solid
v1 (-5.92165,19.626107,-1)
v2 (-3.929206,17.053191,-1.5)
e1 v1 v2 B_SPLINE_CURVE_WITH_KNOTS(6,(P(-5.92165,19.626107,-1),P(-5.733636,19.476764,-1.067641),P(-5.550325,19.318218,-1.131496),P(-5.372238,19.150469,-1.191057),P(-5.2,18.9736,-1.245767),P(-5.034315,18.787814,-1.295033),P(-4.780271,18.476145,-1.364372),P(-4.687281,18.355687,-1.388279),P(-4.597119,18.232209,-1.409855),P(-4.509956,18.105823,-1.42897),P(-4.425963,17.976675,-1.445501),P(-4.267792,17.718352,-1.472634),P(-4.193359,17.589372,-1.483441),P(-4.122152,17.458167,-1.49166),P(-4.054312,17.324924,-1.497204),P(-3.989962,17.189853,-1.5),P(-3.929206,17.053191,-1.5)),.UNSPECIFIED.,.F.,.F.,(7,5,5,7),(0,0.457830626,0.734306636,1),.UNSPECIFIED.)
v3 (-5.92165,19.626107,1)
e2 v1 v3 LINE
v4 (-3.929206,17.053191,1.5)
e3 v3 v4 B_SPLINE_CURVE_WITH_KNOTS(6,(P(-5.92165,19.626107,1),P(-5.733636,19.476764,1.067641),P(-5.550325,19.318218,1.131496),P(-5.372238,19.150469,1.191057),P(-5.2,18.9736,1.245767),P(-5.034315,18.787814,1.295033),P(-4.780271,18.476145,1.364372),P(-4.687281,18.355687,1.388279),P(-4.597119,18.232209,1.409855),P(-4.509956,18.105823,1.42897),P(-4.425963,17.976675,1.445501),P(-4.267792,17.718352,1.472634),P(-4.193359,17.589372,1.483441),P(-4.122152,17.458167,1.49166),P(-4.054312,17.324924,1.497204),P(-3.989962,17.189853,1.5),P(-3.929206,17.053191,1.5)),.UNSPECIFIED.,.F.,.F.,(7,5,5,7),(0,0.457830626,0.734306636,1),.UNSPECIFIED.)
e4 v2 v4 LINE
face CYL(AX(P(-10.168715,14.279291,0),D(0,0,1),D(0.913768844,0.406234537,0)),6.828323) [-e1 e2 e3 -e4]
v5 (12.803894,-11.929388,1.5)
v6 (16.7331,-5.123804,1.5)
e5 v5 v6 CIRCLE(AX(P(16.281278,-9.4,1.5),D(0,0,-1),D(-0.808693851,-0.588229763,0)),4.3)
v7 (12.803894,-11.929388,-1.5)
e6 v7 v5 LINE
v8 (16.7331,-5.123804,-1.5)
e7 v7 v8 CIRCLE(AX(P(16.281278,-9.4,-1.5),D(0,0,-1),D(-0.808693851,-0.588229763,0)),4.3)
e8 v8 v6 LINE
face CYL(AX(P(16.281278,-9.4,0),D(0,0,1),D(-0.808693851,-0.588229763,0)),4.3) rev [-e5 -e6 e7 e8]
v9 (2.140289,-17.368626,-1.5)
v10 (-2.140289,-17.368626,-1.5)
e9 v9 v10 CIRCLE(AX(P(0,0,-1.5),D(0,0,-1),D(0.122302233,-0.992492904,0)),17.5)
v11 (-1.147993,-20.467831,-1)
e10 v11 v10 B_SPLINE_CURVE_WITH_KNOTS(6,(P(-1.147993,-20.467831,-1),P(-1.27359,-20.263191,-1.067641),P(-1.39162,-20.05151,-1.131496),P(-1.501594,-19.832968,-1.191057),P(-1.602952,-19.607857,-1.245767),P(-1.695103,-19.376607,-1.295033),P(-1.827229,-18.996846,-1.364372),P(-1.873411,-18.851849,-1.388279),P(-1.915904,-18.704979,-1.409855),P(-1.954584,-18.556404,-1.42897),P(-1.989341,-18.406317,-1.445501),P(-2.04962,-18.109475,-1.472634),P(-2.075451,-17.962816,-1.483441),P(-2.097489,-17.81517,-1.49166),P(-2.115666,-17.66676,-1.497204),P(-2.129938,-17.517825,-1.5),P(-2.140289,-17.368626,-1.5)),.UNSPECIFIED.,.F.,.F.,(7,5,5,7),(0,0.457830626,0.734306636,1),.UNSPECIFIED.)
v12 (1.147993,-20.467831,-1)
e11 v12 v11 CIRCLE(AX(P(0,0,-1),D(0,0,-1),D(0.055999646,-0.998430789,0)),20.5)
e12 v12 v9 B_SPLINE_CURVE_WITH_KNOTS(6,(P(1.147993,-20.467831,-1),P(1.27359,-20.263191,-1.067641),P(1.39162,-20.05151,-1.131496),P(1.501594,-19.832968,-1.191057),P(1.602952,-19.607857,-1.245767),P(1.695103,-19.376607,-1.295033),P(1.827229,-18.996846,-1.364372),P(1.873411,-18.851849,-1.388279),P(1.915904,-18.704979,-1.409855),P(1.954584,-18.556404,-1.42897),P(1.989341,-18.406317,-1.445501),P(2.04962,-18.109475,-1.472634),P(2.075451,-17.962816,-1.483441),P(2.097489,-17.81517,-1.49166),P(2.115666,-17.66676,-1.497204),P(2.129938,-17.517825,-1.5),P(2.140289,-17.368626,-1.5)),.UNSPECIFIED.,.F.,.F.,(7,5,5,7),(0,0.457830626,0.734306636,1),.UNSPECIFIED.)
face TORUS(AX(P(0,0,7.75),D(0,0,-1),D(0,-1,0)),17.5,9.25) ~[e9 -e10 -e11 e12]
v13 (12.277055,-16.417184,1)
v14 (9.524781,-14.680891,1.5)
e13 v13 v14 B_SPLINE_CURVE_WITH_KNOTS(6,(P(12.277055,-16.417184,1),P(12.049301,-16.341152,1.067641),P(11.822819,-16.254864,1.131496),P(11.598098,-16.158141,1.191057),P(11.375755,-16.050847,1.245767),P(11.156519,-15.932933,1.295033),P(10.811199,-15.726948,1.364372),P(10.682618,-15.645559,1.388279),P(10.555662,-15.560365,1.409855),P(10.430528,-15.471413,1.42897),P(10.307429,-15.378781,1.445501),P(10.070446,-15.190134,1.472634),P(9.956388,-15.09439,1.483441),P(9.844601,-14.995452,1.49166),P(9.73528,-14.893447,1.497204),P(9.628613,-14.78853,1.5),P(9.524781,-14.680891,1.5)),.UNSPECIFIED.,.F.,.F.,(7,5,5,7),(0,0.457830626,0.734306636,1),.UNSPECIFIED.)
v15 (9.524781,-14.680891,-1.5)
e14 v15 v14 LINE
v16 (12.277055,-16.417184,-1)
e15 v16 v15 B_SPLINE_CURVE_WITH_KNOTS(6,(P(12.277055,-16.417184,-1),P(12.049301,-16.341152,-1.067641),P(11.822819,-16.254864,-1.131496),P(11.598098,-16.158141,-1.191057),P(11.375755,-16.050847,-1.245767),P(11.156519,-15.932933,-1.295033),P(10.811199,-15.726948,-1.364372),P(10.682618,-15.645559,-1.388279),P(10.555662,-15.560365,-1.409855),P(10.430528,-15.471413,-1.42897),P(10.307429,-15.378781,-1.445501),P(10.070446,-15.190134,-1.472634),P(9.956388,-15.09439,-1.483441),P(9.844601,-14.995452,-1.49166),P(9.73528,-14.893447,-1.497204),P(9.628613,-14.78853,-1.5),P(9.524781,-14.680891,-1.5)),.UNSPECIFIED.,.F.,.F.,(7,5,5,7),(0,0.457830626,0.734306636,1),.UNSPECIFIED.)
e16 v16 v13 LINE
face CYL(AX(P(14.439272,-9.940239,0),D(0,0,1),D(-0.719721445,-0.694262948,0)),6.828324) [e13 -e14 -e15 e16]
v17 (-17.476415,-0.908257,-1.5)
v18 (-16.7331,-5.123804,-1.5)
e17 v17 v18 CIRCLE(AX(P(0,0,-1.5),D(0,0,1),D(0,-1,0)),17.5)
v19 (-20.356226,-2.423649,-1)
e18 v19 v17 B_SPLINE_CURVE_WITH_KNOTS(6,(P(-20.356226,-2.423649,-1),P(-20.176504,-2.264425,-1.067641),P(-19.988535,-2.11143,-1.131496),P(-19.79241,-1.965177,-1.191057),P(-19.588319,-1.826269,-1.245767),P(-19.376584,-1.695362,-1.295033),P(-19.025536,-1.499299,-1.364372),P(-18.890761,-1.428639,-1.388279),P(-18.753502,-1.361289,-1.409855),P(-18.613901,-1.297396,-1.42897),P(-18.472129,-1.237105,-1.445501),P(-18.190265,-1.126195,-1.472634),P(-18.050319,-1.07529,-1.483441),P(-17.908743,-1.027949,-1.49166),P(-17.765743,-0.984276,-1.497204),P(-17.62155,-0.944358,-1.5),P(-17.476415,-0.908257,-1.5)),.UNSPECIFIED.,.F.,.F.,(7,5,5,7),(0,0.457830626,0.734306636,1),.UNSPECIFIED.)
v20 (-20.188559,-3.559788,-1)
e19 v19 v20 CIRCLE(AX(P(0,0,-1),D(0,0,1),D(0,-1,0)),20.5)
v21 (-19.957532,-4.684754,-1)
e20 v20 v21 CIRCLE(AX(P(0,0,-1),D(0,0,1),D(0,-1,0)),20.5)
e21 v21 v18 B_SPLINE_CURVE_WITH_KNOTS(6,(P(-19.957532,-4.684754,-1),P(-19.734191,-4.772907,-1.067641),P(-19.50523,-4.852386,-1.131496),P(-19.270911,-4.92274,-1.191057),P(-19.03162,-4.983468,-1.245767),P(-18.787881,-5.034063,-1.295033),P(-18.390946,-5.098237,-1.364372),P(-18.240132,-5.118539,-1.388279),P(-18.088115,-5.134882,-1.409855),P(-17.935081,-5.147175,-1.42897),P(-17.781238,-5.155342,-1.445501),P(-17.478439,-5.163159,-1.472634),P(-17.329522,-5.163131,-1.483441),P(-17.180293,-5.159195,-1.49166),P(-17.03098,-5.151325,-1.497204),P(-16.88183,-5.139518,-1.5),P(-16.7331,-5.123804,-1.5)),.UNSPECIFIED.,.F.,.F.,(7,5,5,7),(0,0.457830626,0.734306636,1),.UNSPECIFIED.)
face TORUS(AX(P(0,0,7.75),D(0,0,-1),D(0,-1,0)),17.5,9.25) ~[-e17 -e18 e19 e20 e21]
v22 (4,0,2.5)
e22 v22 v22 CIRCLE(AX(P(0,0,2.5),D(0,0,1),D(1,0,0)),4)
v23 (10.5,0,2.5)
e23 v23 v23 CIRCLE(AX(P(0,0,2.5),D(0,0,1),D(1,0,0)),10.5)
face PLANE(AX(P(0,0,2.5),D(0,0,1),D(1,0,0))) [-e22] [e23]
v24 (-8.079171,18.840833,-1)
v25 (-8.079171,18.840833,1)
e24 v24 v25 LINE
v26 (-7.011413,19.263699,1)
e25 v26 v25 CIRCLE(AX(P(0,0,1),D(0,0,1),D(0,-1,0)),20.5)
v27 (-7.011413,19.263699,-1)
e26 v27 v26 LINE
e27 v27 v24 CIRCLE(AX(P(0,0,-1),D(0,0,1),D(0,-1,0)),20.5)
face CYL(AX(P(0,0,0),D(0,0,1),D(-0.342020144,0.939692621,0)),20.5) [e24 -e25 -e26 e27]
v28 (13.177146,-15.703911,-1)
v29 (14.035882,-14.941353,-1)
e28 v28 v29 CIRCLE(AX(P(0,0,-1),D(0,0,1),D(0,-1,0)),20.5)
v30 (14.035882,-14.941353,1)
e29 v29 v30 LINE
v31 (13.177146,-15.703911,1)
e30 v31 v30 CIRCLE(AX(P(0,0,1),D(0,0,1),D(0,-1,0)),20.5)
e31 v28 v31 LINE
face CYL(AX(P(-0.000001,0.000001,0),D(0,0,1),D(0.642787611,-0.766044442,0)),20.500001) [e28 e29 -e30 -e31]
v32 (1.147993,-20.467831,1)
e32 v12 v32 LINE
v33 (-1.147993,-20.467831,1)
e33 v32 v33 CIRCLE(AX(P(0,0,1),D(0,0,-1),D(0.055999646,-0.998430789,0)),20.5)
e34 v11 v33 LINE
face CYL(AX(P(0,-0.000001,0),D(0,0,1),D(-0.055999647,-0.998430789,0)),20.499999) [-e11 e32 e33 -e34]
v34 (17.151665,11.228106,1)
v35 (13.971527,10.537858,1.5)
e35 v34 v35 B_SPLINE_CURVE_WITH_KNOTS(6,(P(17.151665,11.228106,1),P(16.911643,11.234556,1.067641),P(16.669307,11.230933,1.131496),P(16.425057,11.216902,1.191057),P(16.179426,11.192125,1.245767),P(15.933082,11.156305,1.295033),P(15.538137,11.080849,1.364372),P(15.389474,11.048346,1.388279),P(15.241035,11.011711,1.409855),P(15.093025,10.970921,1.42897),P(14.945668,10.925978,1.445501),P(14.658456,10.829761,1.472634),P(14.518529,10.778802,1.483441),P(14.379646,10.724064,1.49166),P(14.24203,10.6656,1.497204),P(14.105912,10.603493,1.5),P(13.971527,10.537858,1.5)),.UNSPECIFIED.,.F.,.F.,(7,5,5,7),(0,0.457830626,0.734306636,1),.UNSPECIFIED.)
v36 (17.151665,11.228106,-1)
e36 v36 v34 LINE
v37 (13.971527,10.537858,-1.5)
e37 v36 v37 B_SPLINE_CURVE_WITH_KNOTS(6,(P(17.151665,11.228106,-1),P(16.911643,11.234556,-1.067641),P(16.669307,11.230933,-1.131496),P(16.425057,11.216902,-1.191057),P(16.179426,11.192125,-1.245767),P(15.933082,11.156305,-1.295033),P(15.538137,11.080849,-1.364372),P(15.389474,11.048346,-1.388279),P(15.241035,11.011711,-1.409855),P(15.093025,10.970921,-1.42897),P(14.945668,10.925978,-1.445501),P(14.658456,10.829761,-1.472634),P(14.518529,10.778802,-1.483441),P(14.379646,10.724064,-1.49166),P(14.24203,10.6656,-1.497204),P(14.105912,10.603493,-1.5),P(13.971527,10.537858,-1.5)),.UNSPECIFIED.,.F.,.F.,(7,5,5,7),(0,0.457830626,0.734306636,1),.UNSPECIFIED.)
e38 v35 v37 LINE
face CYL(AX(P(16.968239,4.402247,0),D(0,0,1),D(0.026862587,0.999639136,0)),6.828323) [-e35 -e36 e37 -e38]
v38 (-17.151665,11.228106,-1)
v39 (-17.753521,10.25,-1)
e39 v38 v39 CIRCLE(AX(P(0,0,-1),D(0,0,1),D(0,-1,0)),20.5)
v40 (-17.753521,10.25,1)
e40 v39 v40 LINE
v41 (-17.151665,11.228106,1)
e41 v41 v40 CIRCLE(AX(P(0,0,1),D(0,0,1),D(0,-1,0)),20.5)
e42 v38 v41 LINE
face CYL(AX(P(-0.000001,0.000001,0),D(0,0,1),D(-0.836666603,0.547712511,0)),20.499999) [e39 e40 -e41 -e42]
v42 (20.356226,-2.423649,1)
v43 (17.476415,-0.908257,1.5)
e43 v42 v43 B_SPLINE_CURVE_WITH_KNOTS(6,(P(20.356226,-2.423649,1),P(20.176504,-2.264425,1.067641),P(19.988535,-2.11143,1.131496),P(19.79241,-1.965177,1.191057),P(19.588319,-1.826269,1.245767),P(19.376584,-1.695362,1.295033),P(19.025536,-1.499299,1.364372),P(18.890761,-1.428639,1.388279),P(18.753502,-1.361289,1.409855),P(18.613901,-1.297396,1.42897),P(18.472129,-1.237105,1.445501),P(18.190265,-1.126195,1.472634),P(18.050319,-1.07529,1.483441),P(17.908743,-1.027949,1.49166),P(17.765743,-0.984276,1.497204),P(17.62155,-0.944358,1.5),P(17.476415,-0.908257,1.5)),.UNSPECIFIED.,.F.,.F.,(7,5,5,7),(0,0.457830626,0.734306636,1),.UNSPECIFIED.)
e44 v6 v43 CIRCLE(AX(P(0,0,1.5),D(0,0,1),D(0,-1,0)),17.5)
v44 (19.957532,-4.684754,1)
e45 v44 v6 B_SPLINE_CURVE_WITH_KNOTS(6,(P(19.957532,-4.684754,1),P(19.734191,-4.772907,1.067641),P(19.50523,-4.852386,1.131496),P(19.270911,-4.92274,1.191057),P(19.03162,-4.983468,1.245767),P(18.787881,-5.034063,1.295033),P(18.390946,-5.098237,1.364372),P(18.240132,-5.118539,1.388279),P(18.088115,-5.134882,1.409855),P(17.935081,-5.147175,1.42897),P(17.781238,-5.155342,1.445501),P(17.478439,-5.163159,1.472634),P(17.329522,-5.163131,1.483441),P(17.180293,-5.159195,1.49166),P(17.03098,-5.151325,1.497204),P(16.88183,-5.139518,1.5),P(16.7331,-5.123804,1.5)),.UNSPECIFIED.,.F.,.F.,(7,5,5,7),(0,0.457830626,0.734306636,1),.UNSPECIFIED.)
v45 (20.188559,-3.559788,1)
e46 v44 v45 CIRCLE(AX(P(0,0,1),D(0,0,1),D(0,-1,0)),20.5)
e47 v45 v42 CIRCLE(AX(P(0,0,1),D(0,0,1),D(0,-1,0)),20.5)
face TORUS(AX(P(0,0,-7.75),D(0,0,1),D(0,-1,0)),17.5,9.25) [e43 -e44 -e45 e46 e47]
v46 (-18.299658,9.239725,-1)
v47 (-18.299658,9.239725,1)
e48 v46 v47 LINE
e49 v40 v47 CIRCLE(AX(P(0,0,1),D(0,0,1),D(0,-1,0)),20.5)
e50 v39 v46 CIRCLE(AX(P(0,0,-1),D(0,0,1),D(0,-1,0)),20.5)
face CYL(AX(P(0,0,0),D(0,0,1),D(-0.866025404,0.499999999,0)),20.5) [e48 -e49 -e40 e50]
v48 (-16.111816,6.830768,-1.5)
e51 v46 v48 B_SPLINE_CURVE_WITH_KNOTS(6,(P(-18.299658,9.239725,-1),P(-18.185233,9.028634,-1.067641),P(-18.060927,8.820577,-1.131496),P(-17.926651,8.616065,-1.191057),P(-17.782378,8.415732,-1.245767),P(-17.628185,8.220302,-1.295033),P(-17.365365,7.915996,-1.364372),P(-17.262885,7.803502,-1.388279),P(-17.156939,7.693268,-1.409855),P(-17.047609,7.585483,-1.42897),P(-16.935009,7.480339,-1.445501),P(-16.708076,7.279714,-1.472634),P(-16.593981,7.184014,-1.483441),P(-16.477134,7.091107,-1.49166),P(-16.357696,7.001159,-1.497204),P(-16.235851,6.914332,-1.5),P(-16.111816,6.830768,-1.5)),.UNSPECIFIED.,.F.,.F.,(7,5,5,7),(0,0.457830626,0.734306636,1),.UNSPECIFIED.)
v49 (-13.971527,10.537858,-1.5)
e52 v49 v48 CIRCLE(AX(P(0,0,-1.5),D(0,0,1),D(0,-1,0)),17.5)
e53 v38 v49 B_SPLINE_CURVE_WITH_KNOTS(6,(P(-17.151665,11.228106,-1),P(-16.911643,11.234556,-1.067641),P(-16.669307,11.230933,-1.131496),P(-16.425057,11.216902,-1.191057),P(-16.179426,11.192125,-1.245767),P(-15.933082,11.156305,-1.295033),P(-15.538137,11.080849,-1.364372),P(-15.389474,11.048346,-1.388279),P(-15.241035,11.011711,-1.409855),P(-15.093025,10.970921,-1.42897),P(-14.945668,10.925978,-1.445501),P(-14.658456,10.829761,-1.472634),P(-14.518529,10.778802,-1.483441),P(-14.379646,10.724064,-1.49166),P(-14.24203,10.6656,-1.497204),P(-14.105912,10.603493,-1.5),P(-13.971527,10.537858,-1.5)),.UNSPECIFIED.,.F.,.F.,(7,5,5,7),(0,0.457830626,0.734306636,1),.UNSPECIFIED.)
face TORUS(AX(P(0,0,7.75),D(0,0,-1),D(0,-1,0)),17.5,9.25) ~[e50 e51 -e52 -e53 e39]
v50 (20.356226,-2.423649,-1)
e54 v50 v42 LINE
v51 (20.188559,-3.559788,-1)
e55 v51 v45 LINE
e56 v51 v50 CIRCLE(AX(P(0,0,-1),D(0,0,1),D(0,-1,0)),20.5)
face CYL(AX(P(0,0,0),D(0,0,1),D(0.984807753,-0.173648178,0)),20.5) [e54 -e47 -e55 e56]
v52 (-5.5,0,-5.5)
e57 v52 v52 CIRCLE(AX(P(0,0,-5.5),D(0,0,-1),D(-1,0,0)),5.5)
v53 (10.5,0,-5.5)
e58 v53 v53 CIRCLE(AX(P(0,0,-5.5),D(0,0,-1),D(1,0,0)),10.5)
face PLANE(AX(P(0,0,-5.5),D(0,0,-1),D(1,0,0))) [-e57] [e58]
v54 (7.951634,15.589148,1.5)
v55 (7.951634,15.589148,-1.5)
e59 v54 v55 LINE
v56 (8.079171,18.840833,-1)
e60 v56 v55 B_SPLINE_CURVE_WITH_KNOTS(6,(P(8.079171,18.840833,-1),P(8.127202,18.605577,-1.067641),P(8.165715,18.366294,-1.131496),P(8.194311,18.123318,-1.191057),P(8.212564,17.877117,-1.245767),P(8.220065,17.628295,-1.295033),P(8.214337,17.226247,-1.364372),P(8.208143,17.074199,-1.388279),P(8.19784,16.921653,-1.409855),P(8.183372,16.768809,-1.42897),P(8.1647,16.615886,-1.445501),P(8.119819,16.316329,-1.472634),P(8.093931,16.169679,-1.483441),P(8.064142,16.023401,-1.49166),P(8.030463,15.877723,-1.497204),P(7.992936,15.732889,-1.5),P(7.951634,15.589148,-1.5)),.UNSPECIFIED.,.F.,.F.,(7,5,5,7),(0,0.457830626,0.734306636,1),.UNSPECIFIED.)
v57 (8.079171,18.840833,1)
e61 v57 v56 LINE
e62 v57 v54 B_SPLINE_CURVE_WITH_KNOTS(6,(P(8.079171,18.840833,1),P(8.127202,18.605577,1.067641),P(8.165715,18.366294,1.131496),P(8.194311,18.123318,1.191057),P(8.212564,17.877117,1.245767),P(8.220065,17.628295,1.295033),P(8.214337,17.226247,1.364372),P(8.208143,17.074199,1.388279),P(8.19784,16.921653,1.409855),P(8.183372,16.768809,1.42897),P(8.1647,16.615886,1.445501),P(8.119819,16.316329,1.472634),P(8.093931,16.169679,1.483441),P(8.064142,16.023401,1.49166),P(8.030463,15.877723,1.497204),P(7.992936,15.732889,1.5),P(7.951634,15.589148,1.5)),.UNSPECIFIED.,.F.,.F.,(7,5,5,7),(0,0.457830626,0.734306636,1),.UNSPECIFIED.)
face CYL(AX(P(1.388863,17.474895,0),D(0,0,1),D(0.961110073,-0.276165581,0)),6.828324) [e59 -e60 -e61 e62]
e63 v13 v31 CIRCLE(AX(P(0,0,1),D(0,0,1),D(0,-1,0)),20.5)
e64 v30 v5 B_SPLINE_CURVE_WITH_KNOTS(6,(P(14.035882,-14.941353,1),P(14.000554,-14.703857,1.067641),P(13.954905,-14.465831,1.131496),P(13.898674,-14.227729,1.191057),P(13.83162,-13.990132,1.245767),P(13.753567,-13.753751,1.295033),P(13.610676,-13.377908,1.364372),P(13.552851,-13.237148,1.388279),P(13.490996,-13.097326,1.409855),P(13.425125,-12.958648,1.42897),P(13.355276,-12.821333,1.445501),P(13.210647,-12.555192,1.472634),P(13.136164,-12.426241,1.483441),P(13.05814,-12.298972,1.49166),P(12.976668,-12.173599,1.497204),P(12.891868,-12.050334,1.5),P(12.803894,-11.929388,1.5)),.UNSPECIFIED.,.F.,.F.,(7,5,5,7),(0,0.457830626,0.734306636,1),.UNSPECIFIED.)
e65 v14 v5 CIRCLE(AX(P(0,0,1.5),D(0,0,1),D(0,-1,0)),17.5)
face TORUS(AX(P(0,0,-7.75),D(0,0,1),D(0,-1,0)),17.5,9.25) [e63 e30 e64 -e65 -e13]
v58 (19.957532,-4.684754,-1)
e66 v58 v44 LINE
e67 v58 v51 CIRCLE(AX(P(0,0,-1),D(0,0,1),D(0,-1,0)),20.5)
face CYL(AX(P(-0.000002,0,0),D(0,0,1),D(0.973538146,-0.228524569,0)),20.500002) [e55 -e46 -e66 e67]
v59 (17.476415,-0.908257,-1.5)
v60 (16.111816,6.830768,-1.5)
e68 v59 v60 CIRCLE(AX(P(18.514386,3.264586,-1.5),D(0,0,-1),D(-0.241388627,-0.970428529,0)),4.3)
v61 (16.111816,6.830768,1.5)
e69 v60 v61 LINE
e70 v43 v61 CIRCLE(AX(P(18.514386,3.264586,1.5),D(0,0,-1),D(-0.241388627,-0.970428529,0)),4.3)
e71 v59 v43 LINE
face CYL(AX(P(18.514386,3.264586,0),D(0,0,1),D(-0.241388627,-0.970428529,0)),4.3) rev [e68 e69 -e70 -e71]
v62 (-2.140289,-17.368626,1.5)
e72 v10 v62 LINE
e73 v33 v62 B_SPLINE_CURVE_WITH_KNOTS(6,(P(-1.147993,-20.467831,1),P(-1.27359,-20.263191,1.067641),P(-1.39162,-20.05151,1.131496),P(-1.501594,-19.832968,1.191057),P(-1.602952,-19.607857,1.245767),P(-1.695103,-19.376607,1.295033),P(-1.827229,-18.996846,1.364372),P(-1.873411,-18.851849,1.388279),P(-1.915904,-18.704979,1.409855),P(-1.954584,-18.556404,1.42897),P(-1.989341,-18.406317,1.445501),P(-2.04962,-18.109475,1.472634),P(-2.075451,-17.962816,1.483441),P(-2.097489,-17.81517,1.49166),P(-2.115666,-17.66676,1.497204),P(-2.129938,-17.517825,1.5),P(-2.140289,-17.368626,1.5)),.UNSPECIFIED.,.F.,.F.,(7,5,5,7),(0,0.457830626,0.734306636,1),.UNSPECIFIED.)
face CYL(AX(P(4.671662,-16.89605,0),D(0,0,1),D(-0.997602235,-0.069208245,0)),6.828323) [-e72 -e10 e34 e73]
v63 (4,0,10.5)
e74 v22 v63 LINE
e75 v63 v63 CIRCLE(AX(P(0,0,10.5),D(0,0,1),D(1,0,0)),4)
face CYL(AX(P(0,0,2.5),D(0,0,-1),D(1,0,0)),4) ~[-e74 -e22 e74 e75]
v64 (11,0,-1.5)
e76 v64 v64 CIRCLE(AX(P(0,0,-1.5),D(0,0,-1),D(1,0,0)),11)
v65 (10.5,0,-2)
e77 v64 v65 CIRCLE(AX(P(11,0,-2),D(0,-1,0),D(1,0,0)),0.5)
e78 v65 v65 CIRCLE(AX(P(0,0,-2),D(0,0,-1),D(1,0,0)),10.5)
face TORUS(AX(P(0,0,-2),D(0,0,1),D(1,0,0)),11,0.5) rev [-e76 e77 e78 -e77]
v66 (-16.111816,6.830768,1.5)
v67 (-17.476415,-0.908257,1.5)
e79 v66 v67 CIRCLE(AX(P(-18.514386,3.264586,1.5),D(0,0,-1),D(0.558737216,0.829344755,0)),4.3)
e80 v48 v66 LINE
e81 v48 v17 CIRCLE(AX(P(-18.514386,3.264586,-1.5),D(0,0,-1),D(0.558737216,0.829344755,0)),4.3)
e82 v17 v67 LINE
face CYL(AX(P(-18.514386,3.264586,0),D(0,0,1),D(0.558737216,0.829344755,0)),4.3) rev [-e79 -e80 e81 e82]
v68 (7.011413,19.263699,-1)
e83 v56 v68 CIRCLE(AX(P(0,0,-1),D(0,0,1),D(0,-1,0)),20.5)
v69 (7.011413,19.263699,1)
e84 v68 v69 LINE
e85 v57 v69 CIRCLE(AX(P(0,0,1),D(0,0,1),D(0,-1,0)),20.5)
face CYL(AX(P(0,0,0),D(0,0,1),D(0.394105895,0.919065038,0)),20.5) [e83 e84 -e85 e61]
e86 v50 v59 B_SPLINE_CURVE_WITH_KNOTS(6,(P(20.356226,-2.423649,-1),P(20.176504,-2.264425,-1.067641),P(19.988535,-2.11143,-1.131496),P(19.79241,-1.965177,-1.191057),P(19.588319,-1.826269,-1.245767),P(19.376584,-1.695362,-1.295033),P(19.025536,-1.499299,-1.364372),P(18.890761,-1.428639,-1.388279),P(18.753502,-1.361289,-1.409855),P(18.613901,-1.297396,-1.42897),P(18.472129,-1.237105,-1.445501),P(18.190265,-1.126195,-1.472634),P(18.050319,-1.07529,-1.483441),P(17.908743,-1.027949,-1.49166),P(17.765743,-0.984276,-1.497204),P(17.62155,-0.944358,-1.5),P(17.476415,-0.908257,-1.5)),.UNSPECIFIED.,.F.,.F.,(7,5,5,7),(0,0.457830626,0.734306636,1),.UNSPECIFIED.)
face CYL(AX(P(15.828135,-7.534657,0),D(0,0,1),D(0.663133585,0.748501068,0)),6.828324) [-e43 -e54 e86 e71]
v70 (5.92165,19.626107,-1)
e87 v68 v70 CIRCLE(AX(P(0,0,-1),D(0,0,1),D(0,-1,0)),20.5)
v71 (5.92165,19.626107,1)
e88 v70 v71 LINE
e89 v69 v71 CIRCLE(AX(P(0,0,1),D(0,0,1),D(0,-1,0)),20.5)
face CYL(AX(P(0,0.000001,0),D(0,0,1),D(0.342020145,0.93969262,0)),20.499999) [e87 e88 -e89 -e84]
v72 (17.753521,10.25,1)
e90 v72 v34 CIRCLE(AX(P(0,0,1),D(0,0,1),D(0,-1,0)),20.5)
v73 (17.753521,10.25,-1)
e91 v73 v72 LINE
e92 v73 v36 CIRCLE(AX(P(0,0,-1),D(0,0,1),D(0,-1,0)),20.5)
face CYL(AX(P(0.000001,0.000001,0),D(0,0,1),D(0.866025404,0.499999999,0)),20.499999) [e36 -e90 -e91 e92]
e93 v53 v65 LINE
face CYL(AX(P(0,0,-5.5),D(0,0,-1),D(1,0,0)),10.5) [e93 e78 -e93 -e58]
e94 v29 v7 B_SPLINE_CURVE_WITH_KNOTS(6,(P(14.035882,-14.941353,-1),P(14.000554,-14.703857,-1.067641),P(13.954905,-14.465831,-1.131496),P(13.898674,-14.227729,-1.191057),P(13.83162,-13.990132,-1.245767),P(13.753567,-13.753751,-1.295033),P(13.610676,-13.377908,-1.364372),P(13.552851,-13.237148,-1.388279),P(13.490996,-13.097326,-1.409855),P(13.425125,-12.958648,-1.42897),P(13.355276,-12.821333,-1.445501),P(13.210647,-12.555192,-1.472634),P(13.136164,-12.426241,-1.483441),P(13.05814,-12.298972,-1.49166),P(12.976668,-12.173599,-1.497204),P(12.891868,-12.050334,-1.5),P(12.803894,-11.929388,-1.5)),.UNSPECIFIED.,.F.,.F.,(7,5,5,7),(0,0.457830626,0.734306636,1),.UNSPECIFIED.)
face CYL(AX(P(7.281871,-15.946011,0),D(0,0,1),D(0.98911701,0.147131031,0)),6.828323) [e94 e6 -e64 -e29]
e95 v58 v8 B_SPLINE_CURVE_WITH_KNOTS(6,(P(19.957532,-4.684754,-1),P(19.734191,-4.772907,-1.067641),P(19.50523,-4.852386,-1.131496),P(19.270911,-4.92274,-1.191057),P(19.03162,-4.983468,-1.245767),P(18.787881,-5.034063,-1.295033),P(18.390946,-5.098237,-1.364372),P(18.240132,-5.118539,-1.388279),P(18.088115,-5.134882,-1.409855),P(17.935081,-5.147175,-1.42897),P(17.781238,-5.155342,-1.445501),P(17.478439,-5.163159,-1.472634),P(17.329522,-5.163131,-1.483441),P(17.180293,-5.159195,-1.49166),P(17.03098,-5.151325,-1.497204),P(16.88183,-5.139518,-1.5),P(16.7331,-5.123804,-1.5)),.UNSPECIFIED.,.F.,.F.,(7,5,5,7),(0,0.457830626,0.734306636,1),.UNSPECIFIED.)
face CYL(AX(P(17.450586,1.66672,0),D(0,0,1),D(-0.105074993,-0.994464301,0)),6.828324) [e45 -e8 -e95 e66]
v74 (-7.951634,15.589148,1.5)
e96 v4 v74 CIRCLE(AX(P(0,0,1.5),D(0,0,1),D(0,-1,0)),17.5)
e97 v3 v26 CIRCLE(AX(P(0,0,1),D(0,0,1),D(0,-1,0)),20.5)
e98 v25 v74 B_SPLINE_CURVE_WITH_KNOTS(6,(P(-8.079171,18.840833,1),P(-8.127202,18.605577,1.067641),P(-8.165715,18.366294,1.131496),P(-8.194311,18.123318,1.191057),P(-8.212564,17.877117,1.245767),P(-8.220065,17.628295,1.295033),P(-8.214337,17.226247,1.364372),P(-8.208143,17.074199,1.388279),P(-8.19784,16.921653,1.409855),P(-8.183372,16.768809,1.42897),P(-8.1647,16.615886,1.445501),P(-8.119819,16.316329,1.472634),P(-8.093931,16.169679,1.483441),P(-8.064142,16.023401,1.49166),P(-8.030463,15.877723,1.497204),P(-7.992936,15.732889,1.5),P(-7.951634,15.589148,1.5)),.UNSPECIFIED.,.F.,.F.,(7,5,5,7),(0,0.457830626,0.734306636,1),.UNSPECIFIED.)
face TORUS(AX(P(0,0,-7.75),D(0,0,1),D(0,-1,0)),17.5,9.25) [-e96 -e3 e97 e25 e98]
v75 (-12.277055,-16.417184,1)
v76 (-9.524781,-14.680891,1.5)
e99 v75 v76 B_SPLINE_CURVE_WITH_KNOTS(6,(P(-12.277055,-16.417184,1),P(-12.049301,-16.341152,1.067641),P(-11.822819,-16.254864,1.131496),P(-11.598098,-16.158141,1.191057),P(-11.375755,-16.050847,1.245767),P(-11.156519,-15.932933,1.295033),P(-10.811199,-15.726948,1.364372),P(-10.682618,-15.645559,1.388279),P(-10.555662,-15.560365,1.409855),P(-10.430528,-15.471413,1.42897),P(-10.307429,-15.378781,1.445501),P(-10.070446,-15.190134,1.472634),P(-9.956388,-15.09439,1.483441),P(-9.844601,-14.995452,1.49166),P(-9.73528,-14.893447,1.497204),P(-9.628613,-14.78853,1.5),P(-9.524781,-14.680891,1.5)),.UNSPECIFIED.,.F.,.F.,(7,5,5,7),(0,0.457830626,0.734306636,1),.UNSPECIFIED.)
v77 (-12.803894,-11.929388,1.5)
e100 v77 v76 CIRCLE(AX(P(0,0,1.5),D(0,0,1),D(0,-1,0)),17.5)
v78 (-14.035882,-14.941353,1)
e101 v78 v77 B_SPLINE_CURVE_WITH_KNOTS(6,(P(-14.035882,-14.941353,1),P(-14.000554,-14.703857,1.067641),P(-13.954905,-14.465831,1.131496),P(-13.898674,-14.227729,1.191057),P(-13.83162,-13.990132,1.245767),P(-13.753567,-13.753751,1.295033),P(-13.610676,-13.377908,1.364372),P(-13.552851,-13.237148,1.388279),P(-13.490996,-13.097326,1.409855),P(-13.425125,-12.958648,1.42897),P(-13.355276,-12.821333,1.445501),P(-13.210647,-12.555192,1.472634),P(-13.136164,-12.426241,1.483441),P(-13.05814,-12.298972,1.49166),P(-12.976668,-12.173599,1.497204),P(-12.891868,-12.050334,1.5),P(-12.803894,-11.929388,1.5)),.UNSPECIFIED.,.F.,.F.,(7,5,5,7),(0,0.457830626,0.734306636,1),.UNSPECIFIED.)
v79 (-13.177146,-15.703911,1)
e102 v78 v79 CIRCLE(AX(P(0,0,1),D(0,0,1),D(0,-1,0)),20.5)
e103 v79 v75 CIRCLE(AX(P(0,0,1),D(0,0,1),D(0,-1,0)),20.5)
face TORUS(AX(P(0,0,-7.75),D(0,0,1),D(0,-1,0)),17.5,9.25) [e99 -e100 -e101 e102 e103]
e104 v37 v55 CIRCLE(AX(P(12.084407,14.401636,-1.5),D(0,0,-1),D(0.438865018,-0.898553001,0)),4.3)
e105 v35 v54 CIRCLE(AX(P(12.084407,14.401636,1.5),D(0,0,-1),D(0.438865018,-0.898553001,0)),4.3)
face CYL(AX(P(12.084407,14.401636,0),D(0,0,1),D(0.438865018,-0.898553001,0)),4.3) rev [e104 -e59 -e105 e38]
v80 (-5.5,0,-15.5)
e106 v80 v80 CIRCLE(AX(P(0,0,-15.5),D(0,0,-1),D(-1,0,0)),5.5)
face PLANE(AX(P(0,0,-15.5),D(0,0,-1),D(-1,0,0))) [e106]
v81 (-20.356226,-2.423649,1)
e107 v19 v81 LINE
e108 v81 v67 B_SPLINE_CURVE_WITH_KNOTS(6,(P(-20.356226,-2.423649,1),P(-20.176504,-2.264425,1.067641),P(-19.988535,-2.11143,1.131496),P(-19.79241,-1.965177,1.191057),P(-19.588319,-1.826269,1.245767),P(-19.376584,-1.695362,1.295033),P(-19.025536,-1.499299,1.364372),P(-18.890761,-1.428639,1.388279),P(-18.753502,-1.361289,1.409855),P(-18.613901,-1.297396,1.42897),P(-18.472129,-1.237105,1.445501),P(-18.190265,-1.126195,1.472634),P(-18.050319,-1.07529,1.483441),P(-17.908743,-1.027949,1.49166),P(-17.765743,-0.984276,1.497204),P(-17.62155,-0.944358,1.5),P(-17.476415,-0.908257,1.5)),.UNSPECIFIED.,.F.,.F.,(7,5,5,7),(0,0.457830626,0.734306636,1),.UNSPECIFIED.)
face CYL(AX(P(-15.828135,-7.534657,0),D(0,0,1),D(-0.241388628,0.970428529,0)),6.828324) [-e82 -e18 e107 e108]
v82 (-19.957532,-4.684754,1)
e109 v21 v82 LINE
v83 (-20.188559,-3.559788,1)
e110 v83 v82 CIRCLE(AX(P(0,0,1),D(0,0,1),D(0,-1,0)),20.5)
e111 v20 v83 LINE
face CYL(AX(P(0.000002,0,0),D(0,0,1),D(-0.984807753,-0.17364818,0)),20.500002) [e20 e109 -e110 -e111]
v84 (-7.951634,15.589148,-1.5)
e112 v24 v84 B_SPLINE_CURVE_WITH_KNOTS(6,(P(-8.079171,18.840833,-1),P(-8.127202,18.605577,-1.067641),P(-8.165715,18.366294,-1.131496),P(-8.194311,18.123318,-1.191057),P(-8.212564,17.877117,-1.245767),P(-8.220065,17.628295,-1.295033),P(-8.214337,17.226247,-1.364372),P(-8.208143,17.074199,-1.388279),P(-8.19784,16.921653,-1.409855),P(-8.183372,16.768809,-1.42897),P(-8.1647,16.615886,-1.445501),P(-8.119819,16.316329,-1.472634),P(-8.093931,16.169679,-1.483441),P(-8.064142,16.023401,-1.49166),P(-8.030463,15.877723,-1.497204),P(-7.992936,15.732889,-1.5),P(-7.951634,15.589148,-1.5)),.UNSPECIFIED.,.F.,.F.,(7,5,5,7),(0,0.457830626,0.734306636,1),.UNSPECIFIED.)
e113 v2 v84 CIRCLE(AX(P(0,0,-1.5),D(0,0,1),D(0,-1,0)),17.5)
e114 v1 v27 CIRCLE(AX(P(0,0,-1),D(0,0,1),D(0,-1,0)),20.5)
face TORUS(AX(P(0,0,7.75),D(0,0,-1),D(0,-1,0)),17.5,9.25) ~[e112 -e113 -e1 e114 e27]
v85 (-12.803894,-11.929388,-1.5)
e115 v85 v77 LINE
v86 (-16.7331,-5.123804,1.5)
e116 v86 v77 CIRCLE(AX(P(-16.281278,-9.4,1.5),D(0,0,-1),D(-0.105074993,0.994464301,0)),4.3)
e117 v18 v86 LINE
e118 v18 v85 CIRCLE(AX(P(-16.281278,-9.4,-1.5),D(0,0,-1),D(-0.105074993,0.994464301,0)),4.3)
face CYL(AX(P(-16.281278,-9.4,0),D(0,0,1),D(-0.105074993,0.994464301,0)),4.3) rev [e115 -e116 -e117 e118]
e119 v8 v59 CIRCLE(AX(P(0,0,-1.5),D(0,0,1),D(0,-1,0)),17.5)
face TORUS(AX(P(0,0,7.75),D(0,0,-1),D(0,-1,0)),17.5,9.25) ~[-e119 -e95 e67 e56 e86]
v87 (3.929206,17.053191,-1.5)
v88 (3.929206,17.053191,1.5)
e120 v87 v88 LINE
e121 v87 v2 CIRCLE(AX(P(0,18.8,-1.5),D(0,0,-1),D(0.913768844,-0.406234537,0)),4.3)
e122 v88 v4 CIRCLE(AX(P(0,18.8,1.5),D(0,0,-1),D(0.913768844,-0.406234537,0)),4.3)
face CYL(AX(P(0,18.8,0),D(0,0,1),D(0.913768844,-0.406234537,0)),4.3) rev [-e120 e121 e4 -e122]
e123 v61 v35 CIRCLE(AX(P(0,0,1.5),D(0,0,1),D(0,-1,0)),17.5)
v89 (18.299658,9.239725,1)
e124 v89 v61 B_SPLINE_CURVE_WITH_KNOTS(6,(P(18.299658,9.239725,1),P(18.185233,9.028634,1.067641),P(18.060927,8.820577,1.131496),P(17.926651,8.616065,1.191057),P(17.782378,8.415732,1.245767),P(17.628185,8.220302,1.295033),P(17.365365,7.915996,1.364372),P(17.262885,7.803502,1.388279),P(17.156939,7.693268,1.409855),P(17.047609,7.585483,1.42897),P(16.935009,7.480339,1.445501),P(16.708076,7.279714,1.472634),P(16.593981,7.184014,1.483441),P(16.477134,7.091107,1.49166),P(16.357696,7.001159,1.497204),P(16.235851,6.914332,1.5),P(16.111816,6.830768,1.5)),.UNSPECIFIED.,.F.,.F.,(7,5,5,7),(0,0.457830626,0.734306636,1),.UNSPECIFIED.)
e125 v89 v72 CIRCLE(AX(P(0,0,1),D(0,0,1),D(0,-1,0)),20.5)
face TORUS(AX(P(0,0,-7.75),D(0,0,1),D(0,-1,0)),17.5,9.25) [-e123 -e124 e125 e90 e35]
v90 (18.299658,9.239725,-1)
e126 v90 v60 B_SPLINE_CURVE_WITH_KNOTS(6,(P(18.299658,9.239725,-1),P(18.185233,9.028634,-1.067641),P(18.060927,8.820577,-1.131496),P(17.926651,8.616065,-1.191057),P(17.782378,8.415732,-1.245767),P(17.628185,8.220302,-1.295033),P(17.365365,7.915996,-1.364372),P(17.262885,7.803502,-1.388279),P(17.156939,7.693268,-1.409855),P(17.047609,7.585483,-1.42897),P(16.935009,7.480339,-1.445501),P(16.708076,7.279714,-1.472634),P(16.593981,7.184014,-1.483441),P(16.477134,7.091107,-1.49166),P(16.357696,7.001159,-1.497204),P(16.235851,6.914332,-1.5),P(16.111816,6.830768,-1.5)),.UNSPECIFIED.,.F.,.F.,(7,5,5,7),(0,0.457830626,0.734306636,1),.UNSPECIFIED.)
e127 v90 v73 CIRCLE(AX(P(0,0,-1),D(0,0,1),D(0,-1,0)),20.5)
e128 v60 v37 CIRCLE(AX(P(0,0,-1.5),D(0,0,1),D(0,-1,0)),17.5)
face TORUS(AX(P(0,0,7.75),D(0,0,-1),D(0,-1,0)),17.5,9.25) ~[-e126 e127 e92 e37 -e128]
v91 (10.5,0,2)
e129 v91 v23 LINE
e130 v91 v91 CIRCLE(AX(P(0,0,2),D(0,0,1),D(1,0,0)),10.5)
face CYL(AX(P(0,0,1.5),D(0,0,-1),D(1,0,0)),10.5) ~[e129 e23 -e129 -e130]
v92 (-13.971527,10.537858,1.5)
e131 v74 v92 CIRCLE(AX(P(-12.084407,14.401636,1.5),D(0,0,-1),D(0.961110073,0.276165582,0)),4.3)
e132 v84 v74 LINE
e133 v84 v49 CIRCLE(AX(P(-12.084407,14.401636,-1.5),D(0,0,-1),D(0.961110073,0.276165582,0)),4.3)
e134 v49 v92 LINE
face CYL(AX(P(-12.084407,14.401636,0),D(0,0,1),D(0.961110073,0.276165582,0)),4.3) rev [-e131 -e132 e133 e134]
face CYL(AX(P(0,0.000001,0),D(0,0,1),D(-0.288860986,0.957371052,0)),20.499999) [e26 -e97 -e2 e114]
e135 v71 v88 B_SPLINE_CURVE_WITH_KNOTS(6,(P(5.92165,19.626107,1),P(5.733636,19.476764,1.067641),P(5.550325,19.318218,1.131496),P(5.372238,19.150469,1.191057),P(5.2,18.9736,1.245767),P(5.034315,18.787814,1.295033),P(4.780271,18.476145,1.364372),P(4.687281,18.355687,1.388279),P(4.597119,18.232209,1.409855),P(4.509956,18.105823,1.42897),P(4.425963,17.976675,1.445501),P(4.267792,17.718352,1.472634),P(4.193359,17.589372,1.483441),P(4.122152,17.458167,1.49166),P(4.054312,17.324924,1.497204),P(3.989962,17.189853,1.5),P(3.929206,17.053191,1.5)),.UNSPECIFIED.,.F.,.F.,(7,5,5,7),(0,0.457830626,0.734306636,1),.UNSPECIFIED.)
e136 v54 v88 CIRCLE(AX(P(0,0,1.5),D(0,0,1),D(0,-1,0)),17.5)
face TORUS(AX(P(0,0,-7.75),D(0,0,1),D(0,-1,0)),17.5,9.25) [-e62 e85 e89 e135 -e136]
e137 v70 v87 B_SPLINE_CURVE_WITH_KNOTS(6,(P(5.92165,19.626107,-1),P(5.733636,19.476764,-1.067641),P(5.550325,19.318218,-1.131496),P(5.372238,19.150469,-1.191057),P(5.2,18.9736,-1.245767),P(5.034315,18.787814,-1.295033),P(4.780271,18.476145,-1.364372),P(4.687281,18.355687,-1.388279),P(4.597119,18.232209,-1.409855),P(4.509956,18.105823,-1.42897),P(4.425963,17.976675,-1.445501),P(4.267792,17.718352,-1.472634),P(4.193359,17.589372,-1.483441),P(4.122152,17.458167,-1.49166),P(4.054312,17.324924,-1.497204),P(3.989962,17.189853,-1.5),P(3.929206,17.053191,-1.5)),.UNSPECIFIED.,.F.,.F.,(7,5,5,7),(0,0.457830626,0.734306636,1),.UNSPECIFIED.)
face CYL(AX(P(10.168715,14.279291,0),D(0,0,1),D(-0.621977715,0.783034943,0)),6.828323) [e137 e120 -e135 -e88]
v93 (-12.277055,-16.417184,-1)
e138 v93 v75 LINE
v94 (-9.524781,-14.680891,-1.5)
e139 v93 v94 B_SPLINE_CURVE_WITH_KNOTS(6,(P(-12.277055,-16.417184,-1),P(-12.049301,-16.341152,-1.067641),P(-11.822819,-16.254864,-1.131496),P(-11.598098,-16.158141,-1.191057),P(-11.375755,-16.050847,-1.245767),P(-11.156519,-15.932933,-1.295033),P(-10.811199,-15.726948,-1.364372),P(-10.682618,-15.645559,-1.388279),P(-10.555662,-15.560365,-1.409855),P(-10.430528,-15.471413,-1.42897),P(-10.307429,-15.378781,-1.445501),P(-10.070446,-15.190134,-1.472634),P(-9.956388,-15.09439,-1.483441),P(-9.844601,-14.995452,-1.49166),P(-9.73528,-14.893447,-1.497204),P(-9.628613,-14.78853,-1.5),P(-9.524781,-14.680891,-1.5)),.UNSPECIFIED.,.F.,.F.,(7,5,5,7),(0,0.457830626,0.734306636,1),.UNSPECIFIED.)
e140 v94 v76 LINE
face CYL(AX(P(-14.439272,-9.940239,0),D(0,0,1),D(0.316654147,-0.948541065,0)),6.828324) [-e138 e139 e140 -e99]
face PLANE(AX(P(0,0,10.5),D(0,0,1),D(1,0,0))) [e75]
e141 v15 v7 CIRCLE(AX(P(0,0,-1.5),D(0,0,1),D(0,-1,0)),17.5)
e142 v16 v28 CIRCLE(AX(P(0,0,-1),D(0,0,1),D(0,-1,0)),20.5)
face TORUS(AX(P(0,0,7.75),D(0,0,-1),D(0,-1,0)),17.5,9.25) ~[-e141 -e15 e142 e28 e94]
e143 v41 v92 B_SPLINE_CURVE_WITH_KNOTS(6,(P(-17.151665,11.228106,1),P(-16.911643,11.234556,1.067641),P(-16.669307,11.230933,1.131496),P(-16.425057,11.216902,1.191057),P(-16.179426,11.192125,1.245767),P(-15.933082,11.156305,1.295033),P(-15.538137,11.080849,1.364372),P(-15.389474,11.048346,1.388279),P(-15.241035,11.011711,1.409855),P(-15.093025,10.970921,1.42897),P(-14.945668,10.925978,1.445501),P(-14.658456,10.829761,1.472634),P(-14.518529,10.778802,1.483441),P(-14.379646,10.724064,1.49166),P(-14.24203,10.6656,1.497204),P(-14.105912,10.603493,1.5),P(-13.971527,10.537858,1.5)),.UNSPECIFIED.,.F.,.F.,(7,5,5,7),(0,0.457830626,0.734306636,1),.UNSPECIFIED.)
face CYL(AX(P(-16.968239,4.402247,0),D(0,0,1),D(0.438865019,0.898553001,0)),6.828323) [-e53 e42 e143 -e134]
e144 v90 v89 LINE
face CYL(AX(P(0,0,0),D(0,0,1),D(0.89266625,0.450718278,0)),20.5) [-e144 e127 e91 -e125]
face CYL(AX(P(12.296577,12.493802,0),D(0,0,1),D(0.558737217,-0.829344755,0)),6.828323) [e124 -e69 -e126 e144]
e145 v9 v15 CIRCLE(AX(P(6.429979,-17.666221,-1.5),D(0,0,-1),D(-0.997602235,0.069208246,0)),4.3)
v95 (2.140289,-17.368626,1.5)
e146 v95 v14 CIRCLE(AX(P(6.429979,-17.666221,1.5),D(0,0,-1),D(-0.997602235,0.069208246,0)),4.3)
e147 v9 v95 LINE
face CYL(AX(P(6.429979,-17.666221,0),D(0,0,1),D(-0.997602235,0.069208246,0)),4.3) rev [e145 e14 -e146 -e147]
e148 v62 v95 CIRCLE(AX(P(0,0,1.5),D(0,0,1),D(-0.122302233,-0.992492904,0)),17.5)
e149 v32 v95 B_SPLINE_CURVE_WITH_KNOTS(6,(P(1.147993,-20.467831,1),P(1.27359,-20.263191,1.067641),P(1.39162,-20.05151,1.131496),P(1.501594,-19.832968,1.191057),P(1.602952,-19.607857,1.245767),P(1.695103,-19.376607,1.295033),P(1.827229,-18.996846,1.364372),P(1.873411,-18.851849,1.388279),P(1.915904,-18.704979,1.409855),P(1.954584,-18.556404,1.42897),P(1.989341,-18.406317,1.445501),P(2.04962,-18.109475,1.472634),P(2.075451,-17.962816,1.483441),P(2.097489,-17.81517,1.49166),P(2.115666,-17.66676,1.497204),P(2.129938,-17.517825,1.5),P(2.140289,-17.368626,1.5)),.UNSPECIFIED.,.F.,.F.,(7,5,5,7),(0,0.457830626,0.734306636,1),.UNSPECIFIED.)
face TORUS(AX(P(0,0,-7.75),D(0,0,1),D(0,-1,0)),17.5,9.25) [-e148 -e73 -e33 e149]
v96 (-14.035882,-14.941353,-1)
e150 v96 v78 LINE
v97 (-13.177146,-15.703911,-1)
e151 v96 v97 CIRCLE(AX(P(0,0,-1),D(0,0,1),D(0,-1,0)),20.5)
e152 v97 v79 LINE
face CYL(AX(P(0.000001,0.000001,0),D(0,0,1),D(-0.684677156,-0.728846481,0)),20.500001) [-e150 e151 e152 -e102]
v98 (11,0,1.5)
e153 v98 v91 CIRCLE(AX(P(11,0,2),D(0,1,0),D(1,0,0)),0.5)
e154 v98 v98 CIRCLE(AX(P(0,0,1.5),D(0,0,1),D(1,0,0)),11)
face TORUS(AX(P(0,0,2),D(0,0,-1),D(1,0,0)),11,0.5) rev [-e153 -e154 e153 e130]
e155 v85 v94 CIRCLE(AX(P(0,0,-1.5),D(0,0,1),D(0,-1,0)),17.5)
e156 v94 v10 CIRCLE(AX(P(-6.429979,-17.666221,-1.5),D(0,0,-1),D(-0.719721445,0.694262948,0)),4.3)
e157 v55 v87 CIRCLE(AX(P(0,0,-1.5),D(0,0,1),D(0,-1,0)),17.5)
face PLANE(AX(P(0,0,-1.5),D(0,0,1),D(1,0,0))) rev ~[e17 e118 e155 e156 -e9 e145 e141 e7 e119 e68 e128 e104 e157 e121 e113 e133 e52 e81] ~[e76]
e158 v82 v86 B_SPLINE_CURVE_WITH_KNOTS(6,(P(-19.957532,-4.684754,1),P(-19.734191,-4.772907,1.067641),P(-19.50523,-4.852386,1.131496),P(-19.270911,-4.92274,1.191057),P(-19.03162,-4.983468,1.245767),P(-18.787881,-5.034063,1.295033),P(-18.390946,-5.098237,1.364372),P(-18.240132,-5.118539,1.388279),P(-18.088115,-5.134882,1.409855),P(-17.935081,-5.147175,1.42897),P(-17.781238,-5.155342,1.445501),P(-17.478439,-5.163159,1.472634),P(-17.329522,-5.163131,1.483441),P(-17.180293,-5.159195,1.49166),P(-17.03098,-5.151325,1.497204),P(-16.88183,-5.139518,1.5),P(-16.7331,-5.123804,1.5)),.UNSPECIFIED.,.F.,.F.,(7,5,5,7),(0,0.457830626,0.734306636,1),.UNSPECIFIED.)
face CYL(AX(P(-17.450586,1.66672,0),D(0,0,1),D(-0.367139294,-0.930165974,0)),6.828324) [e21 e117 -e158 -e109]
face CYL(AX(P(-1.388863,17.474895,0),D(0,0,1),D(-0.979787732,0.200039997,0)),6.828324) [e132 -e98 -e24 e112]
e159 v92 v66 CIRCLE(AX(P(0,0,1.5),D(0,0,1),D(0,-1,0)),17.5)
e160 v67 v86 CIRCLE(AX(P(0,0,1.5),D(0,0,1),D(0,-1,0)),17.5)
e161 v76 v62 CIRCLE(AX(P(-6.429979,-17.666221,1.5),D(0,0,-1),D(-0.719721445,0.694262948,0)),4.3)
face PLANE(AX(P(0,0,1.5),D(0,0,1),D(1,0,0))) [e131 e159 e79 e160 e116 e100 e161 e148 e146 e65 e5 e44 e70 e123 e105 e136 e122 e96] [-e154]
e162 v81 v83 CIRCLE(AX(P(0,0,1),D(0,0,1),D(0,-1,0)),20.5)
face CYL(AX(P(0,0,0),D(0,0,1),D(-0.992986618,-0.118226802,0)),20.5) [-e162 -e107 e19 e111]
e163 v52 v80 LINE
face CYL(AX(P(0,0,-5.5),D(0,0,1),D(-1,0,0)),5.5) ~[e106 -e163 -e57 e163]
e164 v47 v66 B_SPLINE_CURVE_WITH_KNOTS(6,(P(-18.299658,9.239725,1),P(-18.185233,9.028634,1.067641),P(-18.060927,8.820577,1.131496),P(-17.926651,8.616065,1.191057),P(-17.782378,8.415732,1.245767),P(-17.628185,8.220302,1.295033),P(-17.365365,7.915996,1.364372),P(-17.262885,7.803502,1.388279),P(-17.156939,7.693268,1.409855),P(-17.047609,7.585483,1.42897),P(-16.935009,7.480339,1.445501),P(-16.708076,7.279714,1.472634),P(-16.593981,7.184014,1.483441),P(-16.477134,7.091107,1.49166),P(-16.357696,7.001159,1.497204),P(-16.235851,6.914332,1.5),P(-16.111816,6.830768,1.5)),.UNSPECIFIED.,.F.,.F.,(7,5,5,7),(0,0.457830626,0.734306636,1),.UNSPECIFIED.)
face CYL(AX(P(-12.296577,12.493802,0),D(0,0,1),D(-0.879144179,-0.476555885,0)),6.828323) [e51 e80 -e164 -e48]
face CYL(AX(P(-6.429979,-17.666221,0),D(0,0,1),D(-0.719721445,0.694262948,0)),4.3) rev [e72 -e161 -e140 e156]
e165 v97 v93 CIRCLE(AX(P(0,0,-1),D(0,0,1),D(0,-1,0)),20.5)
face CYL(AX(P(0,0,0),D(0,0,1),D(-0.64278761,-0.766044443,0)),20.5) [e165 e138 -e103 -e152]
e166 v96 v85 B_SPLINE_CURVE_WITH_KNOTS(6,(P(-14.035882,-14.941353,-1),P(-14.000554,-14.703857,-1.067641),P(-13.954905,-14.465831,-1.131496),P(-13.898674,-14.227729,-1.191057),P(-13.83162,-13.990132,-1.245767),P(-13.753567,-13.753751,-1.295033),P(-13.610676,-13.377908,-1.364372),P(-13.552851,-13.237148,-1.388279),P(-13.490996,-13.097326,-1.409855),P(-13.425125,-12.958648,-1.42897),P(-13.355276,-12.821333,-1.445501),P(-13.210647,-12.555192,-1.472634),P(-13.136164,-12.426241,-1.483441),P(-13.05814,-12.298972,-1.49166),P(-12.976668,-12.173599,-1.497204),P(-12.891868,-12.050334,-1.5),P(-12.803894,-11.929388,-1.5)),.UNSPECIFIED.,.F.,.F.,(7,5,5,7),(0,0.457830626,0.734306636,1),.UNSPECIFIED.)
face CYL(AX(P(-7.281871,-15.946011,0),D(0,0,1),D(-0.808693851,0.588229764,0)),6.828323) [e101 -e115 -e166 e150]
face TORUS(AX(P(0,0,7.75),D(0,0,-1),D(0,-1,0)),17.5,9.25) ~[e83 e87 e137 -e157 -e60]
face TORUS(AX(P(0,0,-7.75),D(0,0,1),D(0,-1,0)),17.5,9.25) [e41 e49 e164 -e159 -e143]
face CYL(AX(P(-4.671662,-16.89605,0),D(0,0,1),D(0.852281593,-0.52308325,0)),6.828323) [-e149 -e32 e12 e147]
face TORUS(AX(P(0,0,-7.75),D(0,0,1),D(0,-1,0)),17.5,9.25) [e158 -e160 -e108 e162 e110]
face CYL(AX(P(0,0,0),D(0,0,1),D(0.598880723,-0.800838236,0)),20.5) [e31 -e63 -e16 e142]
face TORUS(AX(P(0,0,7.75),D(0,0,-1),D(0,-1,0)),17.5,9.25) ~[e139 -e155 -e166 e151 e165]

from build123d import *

# Parameters (mm, degrees)
BOSS_EXTRUDE1_DEPTH = 1.5
SKETCH3_R           = 10.5
BOSS_EXTRUDE2_DEPTH = 1
FILLET1_R           = 0.5
BOSS_EXTRUDE3_START = 4
SKETCH4_R           = 10.5
BOSS_EXTRUDE3_DEPTH = 4
FILLET2_R           = 0.5
SKETCH6_R           = 4
BOSS_EXTRUDE4_DEPTH = 8
SKETCH7_R           = 5.5
BOSS_EXTRUDE5_DEPTH = 10


with BuildPart() as part:
    # Sketch1 → Boss-Extrude1 (new, symmetric)
    with BuildSketch(Plane.XY):
        with BuildLine():
            ThreePointArc((8.079170849, 18.840833272), (7.548253676, 19.059744658), (7.011412938, 19.263698726))
            ThreePointArc((7.011412938, 19.263698726), (6.469069926, 19.452535421), (5.92165025, 19.62610655))
            ThreePointArc((5.92165025, 19.62610655), (4.769916061, 18.460076292), (3.92920603, 17.053191489))
            ThreePointArc((3.92920603, 17.053191489), (0, 14.5), (-3.92920603, 17.053191489))
            ThreePointArc((-3.92920603, 17.053191489), (-4.769916061, 18.460076292), (-5.92165025, 19.62610655))
            ThreePointArc((-5.92165025, 19.62610655), (-6.469069926, 19.452535421), (-7.011412938, 19.263698726))
            ThreePointArc((-7.011412938, 19.263698726), (-7.548253676, 19.059744658), (-8.079170849, 18.840833272))
            ThreePointArc((-8.079170849, 18.840833272), (-8.211940621, 17.207281806), (-7.95163375, 15.58914753))
            ThreePointArc((-7.95163375, 15.58914753), (-9.32042034, 11.107644425), (-13.97152664, 10.537857626))
            ThreePointArc((-13.97152664, 10.537857626), (-15.519876007, 11.07519592), (-17.151665385, 11.228106453))
            ThreePointArc((-17.151665385, 11.228106453), (-17.459443815, 10.743268669), (-17.753520778, 10.25))
            ThreePointArc((-17.753520778, 10.25), (-18.033665494, 9.748687545), (-18.299658117, 9.239724714))
            ThreePointArc((-18.299658117, 9.239724714), (-17.351339022, 7.903008926), (-16.111815726, 6.830768187))
            ThreePointArc((-16.111815726, 6.830768187), (-14.279712419, 2.517898576), (-17.476414659, -0.908256936))
            ThreePointArc((-17.476414659, -0.908256936), (-19.007913485, -1.491891711), (-20.356225667, -2.423649439))
            ThreePointArc((-20.356225667, -2.423649439), (-20.280349902, -2.992892892), (-20.188558937, -3.559787642))
            ThreePointArc((-20.188558937, -3.559787642), (-20.080924805, -4.123888815), (-19.957531975, -4.684753727))
            ThreePointArc((-19.957531975, -4.684753727), (-18.371853055, -5.099169663), (-16.73310006, -5.123803506))
            ThreePointArc((-16.73310006, -5.123803506), (-12.557368355, -7.25), (-12.80389403, -11.929387983))
            ThreePointArc((-12.80389403, -11.929387983), (-13.601936994, -13.360906629), (-14.035881725, -14.941352824))
            ThreePointArc((-14.035881725, -14.941352824), (-13.611854879, -15.328646605), (-13.177145999, -15.703911084))
            ThreePointArc((-13.177145999, -15.703911084), (-12.732096226, -16.066851767), (-12.277054818, -16.417183833))
            ThreePointArc((-12.277054818, -16.417183833), (-10.795972864, -15.715390096), (-9.524780909, -14.680890594))
            ThreePointArc((-9.524780909, -14.680890594), (-4.959292078, -13.625543001), (-2.140289085, -17.368625813))
            ThreePointArc((-2.140289085, -17.368625813), (-1.831463015, -18.978204846), (-1.147992733, -20.467831167))
            ThreePointArc((-1.147992733, -20.467831167), (-0.574221679, -20.491956214), (0, -20.5))
            ThreePointArc((0, -20.5), (0.574221679, -20.491956214), (1.147992733, -20.467831167))
            ThreePointArc((1.147992733, -20.467831167), (1.831463015, -18.978204846), (2.140289085, -17.368625813))
            ThreePointArc((2.140289085, -17.368625813), (4.959292078, -13.625543001), (9.524780909, -14.680890594))
            ThreePointArc((9.524780909, -14.680890594), (10.795972864, -15.715390096), (12.277054818, -16.417183833))
            ThreePointArc((12.277054818, -16.417183833), (12.732096226, -16.066851767), (13.177145999, -15.703911084))
            ThreePointArc((13.177145999, -15.703911084), (13.611854879, -15.328646605), (14.035881725, -14.941352824))
            ThreePointArc((14.035881725, -14.941352824), (13.601936994, -13.360906629), (12.80389403, -11.929387983))
            ThreePointArc((12.80389403, -11.929387983), (12.557368355, -7.25), (16.73310006, -5.123803506))
            ThreePointArc((16.73310006, -5.123803506), (18.371853055, -5.099169663), (19.957531975, -4.684753727))
            ThreePointArc((19.957531975, -4.684753727), (20.080924805, -4.123888815), (20.188558937, -3.559787642))
            ThreePointArc((20.188558937, -3.559787642), (20.280349902, -2.992892892), (20.356225667, -2.423649439))
            ThreePointArc((20.356225667, -2.423649439), (19.007913485, -1.491891711), (17.476414659, -0.908256936))
            ThreePointArc((17.476414659, -0.908256936), (14.279712419, 2.517898576), (16.111815726, 6.830768187))
            ThreePointArc((16.111815726, 6.830768187), (17.351339022, 7.903008926), (18.299658117, 9.239724714))
            ThreePointArc((18.299658117, 9.239724714), (18.033665494, 9.748687545), (17.753520778, 10.25))
            ThreePointArc((17.753520778, 10.25), (17.459443815, 10.743268669), (17.151665385, 11.228106453))
            ThreePointArc((17.151665385, 11.228106453), (15.519876007, 11.07519592), (13.97152664, 10.537857626))
            ThreePointArc((13.97152664, 10.537857626), (9.32042034, 11.107644425), (7.95163375, 15.58914753))
            ThreePointArc((7.95163375, 15.58914753), (8.211940621, 17.207281806), (8.079170849, 18.840833272))
        make_face()
    extrude(amount=BOSS_EXTRUDE1_DEPTH, both=True)

    # Sketch2 → Cut-Revolve2 (revolve, cut)
    with BuildSketch(Plane(origin=(0, 0, 0), x_dir=(0, 0, -1), z_dir=(1, 0, 0))):
        with BuildLine():
            Line((-1.5, -17.5), (-1.5, -20.5))
            Line((-1.5, -20.5), (-1, -20.5))
            ThreePointArc((-1, -20.5), (-1.374143795, -19.020690633), (-1.5, -17.5))
        make_face()
    cut_revolve2 = revolve(axis=Axis((0, 0, 0), (0, 0, 1)), mode=Mode.SUBTRACT)

    # Mirror1: Cut-Revolve2 across plane
    add(cut_revolve2.mirror(Plane.XY), mode=Mode.SUBTRACT)

    # Sketch3 → Boss-Extrude2 (add)
    with BuildSketch(Plane.XY.offset(1.5)):
        Circle(SKETCH3_R)
    extrude(amount=BOSS_EXTRUDE2_DEPTH)

    # Fillet1
    fillet1_edges = [part.edges().sort_by_distance(p)[0] for p in [
        (-10.5, 0, 1.5),
    ]]
    fillet(fillet1_edges, radius=FILLET1_R)

    # Sketch4 → Boss-Extrude3 (add)
    with BuildSketch(Plane(origin=(0, 0, -1.5), x_dir=(-1, 0, 0), z_dir=(0, 0, -1)).offset(BOSS_EXTRUDE3_START)):
        with Locations(Location((0, 0, 0), (0, 0, 180))):
            Circle(SKETCH4_R)
    extrude(amount=-BOSS_EXTRUDE3_DEPTH)

    # Fillet2
    fillet2_edges = [part.edges().sort_by_distance(p)[0] for p in [
        (-10.5, 0, -1.5),
    ]]
    fillet(fillet2_edges, radius=FILLET2_R)

    # Sketch6 → Boss-Extrude4 (add)
    with BuildSketch(Plane.XY.offset(2.5)):
        Circle(SKETCH6_R)
    extrude(amount=BOSS_EXTRUDE4_DEPTH)

    # Sketch7 → Boss-Extrude5 (add)
    with BuildSketch(Plane(origin=(0, 0, -5.5), x_dir=(-1, 0, 0), z_dir=(0, 0, -1))):
        Circle(SKETCH7_R)
    extrude(amount=BOSS_EXTRUDE5_DEPTH)


solid = part.part
